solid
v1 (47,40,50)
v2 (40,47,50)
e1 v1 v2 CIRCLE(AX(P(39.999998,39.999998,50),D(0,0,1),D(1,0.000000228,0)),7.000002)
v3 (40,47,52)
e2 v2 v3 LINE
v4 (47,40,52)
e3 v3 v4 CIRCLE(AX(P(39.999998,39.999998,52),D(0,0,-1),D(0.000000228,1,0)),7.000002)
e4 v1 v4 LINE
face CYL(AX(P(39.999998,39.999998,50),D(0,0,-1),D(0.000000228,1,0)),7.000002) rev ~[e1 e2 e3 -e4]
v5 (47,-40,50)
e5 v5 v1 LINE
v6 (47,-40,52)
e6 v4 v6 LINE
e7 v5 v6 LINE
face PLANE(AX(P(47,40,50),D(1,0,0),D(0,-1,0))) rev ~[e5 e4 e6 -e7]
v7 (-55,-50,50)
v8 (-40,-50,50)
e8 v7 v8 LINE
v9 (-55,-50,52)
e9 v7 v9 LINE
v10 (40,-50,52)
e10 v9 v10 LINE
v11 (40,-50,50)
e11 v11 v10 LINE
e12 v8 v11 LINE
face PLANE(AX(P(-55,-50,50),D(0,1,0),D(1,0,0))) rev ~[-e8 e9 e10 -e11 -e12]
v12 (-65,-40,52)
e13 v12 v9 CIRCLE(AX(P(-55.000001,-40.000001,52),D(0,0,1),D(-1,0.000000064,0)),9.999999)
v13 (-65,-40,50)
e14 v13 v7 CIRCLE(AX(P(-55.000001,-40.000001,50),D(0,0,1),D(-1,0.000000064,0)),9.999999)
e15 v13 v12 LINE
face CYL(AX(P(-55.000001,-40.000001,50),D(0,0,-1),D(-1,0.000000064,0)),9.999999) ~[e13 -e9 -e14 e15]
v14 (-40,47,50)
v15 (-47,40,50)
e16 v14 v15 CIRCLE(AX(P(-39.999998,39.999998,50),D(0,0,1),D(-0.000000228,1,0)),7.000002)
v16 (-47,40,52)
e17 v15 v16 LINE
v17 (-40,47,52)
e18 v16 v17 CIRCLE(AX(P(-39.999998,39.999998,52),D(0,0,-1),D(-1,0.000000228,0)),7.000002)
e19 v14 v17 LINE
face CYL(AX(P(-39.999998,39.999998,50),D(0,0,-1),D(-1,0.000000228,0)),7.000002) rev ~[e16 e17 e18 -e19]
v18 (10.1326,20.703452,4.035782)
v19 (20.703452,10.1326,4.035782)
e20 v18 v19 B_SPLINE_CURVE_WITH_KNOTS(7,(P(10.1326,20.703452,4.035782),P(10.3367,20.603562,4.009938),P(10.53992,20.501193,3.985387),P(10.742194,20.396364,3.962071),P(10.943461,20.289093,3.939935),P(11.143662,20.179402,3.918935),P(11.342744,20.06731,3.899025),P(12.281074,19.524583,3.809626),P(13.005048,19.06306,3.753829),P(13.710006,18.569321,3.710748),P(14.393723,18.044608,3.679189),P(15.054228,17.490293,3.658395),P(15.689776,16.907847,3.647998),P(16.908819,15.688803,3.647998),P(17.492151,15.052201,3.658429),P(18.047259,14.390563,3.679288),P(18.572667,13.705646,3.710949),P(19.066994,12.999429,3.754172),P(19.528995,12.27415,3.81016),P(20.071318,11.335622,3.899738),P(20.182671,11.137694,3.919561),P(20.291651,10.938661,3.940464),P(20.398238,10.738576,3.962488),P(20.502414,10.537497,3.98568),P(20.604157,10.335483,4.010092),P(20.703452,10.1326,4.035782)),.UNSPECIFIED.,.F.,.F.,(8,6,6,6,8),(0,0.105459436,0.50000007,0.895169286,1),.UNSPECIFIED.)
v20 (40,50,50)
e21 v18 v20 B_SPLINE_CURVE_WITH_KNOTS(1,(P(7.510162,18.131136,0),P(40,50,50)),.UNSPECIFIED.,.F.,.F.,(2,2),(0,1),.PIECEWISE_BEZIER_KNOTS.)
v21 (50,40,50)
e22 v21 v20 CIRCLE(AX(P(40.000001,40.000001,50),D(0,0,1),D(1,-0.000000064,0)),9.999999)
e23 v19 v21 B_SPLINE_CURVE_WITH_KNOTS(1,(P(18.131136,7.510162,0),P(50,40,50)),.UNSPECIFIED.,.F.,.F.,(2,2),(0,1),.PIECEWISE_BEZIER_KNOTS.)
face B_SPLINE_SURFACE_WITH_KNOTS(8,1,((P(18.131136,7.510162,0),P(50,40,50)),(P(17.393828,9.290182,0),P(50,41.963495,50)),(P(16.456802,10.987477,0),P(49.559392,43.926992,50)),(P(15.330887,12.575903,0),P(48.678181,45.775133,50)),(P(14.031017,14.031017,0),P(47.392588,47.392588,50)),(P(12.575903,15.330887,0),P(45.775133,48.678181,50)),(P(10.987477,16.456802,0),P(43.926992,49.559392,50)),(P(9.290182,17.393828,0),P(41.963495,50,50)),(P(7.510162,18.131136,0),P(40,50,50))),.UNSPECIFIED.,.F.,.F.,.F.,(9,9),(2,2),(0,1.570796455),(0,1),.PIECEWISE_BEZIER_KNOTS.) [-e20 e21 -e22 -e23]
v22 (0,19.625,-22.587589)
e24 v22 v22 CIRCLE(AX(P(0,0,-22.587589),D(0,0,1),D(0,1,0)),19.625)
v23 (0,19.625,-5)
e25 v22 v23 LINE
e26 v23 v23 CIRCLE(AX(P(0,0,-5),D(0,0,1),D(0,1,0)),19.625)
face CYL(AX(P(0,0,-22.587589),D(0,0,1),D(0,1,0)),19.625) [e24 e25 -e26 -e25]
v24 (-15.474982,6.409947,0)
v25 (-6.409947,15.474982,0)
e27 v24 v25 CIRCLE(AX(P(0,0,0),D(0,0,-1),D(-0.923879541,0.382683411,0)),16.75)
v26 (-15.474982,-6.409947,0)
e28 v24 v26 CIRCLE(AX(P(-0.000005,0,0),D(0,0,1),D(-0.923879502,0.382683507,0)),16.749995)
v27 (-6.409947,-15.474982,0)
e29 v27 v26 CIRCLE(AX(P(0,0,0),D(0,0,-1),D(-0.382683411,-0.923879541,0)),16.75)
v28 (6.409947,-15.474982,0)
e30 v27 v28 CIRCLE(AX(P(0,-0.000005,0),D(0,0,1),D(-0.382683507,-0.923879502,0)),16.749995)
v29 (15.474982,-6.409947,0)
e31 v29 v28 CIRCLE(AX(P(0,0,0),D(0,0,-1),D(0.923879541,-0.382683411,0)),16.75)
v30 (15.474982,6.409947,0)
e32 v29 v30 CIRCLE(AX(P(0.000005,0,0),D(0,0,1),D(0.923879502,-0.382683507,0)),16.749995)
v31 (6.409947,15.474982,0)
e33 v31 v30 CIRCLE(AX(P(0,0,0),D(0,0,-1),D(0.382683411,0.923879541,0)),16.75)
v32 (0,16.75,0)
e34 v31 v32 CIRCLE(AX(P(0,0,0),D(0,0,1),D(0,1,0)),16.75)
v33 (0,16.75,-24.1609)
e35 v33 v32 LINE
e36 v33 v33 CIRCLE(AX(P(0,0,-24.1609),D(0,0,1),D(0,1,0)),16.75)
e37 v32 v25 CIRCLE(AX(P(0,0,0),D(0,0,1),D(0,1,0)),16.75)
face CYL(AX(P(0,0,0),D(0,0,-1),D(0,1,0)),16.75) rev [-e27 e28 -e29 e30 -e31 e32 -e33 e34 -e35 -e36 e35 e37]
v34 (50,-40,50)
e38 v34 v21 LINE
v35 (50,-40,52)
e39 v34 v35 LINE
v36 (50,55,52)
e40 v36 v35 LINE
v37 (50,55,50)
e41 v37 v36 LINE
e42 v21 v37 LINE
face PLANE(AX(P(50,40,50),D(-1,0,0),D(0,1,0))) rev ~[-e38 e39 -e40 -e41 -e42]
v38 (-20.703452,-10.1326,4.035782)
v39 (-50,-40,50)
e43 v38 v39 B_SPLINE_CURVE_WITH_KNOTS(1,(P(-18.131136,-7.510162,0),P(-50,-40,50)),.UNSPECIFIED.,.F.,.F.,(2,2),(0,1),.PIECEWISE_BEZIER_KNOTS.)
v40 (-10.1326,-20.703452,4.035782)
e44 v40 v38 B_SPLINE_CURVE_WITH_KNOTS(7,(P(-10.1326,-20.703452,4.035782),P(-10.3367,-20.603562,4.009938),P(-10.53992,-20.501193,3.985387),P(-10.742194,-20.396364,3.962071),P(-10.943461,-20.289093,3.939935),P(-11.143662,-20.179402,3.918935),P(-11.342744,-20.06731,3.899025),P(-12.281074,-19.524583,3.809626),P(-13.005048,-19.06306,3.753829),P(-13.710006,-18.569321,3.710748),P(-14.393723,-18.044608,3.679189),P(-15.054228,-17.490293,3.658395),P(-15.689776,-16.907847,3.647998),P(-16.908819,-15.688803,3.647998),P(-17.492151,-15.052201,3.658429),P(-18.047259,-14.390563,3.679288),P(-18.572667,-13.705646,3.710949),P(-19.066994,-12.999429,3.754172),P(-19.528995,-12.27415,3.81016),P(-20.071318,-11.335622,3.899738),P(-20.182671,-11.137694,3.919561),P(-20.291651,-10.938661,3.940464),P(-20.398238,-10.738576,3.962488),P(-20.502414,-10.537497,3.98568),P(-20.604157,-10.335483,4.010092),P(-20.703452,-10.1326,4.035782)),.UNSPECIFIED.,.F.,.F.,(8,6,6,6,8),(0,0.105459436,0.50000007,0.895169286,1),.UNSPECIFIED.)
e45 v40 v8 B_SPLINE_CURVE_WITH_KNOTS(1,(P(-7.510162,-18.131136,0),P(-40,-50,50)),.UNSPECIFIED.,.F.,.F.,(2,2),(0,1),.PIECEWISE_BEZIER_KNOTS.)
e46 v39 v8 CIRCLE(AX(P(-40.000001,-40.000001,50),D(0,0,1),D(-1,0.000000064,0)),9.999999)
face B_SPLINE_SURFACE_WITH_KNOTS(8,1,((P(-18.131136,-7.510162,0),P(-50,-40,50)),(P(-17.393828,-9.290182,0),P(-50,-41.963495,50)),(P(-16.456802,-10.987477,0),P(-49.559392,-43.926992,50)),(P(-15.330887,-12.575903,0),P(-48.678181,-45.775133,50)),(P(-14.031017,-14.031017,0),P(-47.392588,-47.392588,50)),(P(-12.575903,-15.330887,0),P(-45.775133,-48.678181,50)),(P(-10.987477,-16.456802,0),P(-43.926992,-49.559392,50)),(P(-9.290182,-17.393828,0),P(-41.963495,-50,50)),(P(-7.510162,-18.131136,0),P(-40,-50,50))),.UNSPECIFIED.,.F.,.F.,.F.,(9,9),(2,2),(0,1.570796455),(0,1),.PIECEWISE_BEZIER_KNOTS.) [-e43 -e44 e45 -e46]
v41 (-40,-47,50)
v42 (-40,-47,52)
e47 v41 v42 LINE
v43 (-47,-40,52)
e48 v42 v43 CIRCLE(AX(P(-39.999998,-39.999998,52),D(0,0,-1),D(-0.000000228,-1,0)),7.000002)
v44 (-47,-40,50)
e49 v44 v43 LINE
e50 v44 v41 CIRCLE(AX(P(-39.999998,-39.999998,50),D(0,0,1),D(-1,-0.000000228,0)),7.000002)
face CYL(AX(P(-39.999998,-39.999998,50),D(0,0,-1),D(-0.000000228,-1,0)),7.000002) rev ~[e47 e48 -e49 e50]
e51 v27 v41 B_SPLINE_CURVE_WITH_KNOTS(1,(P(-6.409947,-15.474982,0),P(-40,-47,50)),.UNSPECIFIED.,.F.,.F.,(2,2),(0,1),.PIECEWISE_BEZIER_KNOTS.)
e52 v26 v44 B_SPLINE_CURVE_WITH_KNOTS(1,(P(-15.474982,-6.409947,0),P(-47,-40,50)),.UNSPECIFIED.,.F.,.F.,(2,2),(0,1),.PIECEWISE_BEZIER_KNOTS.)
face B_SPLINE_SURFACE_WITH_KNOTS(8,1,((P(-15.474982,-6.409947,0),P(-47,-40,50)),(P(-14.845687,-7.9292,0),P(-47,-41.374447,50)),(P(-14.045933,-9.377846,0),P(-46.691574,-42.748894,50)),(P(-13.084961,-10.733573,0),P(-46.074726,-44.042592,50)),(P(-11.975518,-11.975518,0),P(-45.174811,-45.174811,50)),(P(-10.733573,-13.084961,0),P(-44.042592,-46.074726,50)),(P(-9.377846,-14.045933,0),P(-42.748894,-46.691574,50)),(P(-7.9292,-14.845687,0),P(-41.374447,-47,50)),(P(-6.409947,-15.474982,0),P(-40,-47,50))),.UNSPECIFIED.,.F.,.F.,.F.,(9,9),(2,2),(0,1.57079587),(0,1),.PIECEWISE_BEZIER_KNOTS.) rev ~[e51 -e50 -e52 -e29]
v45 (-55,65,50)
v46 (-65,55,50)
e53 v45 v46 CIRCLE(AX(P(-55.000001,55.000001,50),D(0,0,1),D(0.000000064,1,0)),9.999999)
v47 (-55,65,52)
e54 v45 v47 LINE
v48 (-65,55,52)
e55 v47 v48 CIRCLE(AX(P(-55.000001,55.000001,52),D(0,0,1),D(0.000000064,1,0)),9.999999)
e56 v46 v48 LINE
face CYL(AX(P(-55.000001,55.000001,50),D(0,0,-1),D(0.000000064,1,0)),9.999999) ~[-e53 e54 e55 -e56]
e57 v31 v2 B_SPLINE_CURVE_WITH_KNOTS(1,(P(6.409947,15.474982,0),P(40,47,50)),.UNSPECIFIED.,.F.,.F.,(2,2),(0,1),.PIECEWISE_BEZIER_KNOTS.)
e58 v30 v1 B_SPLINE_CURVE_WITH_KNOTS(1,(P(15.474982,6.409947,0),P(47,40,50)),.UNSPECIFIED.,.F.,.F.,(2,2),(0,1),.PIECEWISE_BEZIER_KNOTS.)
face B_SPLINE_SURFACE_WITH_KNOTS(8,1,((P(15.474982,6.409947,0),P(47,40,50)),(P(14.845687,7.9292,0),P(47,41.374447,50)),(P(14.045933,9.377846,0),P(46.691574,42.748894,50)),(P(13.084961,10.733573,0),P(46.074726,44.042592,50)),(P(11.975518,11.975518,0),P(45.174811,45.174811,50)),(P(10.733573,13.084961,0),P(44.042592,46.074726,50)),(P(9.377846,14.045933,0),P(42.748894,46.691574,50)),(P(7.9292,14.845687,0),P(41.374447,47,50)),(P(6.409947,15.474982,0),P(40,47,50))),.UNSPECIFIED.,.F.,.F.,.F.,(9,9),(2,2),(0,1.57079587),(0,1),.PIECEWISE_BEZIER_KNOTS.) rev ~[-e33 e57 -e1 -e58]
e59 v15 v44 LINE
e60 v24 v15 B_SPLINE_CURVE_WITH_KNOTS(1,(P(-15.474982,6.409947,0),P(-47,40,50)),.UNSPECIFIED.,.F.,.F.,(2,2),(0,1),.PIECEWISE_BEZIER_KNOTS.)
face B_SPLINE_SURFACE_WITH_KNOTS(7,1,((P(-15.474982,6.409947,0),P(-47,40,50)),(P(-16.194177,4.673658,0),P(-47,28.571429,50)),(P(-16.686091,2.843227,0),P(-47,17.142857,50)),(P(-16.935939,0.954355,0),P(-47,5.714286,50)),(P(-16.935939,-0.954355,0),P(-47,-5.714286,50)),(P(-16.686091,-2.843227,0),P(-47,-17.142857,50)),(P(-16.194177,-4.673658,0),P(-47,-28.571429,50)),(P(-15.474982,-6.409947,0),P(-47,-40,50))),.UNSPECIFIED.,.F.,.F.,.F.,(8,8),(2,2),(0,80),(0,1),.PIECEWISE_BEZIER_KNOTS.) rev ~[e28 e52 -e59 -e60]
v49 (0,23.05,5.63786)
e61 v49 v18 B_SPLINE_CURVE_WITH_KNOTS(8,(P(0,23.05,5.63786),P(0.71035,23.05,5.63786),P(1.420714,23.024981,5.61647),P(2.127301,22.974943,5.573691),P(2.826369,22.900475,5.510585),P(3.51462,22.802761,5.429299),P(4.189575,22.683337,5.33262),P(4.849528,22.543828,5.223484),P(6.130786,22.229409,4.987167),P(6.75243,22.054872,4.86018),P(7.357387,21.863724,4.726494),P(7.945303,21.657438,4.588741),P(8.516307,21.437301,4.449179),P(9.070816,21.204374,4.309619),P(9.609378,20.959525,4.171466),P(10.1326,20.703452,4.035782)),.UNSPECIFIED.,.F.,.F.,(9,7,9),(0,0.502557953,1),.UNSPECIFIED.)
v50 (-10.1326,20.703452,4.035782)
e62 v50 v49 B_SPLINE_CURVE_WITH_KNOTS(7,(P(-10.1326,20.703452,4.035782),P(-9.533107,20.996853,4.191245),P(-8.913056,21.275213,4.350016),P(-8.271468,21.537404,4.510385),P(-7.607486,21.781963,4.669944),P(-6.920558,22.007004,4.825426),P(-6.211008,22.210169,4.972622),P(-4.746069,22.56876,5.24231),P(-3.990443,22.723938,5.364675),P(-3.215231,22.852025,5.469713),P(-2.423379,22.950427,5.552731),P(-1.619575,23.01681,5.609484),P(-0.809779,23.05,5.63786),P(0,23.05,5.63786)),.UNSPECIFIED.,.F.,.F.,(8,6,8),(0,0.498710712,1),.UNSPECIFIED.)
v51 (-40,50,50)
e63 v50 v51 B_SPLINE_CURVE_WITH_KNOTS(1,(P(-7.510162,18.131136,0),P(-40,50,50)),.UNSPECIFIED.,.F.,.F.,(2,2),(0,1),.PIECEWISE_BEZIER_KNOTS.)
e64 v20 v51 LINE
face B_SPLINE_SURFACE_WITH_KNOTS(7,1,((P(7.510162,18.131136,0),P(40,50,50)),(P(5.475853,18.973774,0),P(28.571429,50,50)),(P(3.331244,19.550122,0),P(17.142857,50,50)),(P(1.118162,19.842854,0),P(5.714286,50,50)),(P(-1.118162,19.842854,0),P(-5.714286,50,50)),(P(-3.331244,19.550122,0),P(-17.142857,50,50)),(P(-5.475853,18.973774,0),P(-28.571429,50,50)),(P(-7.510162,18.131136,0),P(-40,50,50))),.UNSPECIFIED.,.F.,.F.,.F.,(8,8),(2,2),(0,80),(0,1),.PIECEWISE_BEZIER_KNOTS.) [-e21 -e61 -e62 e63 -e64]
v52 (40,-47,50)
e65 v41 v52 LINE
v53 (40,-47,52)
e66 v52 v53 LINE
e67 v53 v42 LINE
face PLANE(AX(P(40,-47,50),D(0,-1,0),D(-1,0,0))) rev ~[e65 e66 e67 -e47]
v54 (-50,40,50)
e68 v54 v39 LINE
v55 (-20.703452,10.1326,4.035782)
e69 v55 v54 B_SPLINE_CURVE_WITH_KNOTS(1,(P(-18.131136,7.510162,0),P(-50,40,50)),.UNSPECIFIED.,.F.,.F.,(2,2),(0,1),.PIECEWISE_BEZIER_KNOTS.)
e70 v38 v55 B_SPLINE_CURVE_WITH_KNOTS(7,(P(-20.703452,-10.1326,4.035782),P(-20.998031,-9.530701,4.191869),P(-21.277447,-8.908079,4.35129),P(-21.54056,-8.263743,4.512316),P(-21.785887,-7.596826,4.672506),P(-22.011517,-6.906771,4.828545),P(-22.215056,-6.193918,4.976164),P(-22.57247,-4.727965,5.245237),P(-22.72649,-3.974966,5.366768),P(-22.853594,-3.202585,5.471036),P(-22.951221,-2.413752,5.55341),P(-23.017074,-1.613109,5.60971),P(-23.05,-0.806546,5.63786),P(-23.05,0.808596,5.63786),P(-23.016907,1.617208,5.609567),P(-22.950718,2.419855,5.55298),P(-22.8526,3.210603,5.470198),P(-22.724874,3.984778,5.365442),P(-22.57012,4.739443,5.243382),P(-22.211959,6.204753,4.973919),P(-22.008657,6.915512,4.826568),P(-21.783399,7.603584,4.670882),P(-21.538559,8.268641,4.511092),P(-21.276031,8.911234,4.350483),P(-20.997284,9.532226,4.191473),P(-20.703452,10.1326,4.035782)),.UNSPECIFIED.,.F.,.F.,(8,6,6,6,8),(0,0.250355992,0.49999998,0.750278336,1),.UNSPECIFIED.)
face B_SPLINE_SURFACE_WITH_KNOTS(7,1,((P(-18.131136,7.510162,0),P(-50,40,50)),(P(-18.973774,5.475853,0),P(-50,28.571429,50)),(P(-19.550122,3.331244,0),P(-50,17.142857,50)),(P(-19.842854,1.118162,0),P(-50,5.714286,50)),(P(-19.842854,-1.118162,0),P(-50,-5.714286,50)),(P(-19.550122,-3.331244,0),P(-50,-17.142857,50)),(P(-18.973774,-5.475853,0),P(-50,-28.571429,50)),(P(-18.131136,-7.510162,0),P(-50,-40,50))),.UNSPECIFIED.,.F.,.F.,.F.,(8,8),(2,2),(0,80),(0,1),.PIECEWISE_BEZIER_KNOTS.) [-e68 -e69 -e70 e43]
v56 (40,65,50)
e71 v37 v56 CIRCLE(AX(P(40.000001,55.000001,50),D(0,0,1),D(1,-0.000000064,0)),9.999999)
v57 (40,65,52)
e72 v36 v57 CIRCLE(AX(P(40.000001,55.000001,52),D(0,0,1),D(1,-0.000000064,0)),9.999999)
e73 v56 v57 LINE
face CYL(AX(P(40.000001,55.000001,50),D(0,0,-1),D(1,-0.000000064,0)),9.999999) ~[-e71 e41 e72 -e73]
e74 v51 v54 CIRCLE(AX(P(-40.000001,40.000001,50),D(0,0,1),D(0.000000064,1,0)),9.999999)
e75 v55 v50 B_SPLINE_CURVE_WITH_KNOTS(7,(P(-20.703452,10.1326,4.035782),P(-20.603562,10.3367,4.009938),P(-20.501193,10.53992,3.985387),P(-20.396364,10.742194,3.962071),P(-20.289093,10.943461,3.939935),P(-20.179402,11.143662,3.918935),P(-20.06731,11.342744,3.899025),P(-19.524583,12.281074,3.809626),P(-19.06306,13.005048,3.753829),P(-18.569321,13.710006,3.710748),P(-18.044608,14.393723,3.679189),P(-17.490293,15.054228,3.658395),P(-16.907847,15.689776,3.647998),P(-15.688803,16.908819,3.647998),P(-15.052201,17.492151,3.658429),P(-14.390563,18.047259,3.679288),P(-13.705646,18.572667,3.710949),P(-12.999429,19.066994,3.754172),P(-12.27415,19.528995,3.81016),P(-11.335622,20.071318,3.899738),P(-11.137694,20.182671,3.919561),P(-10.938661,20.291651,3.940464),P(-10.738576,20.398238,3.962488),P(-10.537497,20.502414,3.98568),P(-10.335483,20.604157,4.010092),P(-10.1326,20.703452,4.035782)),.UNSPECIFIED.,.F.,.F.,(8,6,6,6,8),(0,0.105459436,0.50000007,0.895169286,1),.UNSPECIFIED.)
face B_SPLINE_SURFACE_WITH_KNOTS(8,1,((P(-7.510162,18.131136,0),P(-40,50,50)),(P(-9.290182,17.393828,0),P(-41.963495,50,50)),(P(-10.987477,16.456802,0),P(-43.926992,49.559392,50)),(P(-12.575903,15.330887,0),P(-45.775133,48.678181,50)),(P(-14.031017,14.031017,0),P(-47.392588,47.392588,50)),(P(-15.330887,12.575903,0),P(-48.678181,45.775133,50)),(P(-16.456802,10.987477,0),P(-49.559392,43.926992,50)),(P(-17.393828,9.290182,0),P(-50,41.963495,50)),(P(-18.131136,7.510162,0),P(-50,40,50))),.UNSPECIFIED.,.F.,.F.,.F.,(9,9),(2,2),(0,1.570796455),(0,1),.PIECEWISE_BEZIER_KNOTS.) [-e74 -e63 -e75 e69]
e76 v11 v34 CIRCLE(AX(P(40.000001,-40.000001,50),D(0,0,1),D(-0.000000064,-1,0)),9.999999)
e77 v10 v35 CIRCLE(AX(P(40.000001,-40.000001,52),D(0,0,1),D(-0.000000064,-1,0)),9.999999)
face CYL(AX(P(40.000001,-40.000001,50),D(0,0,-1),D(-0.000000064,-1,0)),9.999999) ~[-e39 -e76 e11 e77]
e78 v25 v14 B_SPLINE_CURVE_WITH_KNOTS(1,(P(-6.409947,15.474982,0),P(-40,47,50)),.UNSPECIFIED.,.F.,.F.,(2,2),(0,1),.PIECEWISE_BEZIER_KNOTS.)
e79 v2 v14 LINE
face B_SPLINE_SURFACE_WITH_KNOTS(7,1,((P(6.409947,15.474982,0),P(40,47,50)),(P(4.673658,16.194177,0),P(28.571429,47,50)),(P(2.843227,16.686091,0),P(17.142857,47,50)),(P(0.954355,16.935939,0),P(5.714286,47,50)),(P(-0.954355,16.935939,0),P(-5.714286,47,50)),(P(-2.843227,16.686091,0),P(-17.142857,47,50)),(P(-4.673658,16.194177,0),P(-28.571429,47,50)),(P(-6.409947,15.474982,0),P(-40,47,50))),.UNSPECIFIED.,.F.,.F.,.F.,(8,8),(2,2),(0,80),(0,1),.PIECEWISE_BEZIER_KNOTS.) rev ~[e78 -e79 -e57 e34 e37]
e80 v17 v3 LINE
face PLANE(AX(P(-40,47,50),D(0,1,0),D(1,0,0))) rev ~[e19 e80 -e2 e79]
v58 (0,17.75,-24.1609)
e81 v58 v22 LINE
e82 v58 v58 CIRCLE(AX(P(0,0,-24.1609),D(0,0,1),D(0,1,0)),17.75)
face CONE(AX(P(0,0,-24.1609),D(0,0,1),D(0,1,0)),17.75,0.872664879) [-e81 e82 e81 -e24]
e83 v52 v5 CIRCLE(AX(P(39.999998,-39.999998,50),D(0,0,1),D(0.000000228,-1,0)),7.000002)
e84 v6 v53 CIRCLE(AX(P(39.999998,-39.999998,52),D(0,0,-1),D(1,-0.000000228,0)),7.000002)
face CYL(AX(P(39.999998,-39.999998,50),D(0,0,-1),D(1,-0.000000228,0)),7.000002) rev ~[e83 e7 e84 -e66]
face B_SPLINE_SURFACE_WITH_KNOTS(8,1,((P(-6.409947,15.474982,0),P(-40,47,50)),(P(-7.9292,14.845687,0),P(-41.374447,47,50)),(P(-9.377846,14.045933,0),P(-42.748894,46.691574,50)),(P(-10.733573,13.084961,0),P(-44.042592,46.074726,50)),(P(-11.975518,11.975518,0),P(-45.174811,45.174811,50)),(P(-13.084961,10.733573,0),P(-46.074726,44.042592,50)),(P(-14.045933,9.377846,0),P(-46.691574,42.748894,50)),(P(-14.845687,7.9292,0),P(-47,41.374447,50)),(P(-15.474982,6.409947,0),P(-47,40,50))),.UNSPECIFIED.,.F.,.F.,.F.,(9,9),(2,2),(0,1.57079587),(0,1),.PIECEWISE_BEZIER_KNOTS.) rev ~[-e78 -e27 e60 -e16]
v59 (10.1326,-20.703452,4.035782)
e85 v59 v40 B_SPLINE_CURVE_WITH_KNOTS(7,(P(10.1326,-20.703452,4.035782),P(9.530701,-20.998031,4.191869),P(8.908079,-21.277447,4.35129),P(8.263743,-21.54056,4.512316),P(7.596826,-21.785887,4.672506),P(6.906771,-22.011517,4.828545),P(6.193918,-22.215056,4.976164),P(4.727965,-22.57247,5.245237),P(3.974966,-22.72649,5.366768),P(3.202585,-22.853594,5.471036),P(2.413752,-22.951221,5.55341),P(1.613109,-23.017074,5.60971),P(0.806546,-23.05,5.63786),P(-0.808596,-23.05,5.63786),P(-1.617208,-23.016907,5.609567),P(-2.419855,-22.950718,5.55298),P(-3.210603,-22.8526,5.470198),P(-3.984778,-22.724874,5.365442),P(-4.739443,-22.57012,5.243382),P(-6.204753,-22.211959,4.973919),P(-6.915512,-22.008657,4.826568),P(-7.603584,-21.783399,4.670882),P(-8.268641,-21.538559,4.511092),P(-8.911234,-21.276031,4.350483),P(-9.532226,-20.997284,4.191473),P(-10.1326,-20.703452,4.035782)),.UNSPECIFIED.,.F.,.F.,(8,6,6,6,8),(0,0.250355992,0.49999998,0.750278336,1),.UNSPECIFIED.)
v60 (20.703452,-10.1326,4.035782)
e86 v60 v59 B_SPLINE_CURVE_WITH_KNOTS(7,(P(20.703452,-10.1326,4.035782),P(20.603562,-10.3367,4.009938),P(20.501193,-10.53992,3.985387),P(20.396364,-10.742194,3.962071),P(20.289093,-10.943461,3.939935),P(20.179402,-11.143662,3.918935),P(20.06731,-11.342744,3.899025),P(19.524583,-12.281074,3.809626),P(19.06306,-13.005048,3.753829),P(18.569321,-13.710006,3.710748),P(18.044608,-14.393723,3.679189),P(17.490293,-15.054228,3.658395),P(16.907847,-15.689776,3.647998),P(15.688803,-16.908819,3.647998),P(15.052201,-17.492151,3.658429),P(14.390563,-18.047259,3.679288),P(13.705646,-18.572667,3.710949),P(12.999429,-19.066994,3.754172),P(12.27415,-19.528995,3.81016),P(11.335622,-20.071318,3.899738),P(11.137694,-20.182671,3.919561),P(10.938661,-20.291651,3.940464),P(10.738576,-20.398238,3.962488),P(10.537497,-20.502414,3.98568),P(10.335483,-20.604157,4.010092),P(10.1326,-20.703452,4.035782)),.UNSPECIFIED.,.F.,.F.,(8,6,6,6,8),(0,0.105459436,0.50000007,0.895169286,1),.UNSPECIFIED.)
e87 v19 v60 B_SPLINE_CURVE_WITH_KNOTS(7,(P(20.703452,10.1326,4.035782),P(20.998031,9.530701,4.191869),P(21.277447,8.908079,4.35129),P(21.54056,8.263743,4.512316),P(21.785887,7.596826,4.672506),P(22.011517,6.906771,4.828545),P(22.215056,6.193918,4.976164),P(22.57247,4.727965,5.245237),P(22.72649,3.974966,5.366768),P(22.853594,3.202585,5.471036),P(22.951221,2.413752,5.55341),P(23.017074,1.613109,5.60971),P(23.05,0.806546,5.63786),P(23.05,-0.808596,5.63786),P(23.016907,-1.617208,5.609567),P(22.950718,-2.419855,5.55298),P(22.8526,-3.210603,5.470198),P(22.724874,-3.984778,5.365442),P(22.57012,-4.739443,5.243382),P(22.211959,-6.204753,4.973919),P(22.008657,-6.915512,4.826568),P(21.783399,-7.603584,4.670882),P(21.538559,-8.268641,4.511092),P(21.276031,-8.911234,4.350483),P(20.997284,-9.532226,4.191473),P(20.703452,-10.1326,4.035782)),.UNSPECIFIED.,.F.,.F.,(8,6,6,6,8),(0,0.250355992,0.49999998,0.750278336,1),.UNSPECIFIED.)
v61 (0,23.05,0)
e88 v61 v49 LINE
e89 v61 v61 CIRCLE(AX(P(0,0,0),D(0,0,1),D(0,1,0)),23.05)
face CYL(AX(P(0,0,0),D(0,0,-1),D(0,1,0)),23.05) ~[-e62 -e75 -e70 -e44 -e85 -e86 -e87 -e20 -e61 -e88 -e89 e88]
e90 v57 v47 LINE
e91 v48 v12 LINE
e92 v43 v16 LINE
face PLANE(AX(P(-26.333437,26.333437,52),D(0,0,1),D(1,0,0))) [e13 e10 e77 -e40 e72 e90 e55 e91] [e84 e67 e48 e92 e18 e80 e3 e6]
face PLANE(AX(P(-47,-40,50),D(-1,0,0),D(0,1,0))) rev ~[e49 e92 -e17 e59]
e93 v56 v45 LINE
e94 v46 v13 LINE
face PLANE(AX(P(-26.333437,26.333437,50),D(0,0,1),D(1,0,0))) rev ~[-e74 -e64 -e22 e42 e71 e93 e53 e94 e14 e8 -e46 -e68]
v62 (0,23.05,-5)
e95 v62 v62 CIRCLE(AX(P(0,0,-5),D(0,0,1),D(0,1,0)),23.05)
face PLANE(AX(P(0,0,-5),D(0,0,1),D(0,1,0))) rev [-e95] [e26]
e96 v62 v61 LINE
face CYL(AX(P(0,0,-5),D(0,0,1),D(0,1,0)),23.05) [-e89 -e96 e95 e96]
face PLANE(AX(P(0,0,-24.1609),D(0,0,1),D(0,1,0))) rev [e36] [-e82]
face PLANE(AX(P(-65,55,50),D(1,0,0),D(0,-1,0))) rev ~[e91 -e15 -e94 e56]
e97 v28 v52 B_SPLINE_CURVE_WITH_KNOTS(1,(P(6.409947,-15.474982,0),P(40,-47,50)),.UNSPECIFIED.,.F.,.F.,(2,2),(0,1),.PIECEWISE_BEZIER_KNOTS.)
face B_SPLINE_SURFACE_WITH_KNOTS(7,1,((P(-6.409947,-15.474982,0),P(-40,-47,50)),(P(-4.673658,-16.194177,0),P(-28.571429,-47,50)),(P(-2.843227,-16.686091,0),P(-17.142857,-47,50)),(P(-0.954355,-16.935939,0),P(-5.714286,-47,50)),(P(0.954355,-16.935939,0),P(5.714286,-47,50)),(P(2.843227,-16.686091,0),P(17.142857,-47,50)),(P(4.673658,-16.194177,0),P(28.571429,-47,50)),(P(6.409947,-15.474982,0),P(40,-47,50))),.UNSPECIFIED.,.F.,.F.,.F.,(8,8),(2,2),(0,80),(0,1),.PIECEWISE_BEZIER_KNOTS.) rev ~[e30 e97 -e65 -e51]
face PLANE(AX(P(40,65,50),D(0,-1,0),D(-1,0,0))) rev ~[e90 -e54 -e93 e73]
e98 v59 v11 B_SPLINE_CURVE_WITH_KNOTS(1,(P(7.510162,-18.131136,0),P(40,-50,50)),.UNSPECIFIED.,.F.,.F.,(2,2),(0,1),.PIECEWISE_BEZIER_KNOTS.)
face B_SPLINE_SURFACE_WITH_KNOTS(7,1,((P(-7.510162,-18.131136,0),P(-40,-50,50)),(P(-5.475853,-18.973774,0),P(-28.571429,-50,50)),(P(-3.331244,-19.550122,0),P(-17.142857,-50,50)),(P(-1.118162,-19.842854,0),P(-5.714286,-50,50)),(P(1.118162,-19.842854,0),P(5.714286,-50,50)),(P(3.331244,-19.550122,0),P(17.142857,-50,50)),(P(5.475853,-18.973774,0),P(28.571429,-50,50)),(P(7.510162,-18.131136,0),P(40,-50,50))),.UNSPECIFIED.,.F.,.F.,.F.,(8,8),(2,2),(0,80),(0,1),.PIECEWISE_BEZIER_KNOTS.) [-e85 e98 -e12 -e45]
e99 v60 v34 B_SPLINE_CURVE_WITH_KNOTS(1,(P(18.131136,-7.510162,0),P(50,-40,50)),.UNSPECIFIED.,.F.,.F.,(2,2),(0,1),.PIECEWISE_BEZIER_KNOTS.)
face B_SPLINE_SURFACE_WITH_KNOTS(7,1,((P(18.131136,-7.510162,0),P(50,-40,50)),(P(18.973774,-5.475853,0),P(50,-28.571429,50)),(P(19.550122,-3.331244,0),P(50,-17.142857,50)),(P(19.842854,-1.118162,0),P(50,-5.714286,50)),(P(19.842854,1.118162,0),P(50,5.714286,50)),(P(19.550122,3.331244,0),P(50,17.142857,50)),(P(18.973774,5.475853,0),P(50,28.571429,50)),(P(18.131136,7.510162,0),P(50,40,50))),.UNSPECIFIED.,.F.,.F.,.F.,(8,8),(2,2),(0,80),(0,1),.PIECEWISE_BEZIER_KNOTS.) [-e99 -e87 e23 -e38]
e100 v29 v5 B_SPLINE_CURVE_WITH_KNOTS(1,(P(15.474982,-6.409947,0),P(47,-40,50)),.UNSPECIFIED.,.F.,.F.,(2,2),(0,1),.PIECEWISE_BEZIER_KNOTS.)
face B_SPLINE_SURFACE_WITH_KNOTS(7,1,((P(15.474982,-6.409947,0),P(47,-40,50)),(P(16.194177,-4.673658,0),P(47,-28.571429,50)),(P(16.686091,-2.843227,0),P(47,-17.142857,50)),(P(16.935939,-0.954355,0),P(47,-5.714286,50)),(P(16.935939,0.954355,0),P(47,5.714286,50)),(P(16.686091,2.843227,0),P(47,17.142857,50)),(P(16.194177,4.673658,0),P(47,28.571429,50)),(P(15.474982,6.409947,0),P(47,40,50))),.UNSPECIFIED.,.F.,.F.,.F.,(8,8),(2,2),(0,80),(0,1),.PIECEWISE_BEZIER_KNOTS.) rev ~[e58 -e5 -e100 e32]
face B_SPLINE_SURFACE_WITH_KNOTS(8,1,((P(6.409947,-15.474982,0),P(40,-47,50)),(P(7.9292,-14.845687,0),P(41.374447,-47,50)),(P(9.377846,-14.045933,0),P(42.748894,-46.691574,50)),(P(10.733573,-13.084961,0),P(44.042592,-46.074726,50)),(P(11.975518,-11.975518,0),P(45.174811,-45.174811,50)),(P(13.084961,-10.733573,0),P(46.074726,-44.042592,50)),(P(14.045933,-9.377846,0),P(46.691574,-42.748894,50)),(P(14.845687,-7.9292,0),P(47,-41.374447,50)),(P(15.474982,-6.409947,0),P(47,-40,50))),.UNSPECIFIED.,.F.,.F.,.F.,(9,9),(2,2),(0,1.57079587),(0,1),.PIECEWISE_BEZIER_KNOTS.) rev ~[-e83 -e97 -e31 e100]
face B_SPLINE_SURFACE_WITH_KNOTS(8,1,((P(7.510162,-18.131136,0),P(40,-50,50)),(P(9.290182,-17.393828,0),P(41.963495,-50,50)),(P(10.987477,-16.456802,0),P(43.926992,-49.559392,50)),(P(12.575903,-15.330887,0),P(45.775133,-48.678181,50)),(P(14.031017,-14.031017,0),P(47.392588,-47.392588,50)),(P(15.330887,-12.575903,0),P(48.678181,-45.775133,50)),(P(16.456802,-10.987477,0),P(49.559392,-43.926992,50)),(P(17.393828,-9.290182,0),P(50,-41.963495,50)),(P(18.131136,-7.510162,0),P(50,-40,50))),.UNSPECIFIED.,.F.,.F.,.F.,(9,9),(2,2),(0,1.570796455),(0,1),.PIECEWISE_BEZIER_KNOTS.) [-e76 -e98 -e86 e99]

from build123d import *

# Parameters (mm, degrees)
REVOLUTION004_FACE6_R = 23.05
PAD006_DEPTH          = 10
PAD007_DEPTH          = 2
PAD008_DEPTH          = 2


with BuildPart() as part:
    # Sketch016 → Revolution003 (revolve)
    with BuildSketch(Plane.YZ):
        Polygon((19.625, -22.587589), (19.625, 0), (16.75, 0), (16.75, -24.1609), (17.75, -24.1609), align=None)
    revolve(axis=Axis((0, 0, 0), (0, 0, 1)))

    # Export → Loft section 0
    with BuildSketch(Plane.XY):
        with BuildLine():
            ThreePointArc((7.510162, 18.131136), (0, 19.625), (-7.510162, 18.131136))
            ThreePointArc((-7.510162, 18.131136), (-13.876971, 13.876971), (-18.131136, 7.510162))
            ThreePointArc((-18.131136, 7.510162), (-19.625, 0), (-18.131136, -7.510162))
            ThreePointArc((-18.131136, -7.510162), (-13.876971, -13.876971), (-7.510162, -18.131136))
            ThreePointArc((-7.510162, -18.131136), (0, -19.625), (7.510162, -18.131136))
            ThreePointArc((7.510162, -18.131136), (13.876971, -13.876971), (18.131136, -7.510162))
            ThreePointArc((18.131136, -7.510162), (19.625, 0), (18.131136, 7.510162))
            ThreePointArc((18.131136, 7.510162), (13.876971, 13.876971), (7.510162, 18.131136))
        make_face()
    # Export002 → Loft section 1
    with BuildSketch(Plane.XY.offset(50)):
        with BuildLine():
            Line((-50, 40), (-50, -40))
            ThreePointArc((-50, -40), (-47.071068, -47.071068), (-40, -50))
            Line((-40, -50), (40, -50))
            ThreePointArc((40, -50), (47.071068, -47.071068), (50, -40))
            Line((50, -40), (50, 40))
            ThreePointArc((50, 40), (47.071068, 47.071068), (40, 50))
            Line((40, 50), (-40, 50))
            ThreePointArc((-40, 50), (-47.071068, 47.071068), (-50, 40))
        make_face()
    loft()

    # Sketch020 → Revolution004 (revolve)
    with BuildSketch(Plane.YZ):
        Polygon((23.05, 0), (16.75, 0), (16.75, -5), (19.625, -5), (23.05, -5), align=None)
    revolve(axis=Axis((0, 0, 0), (0, 0, 1)))

    # Revolution004 Face6 → Pad006 (new)
    with BuildSketch(Plane(origin=(0, 0, 0), x_dir=(0, 1, 0), z_dir=(0, 0, 1))):
        Circle(REVOLUTION004_FACE6_R)
        with BuildLine():
            ThreePointArc((19.625, 0), (19.247911, -3.828648), (18.131136, -7.510162))
            ThreePointArc((18.131136, -7.510162), (13.876971, -13.876971), (7.510162, -18.131136))
            ThreePointArc((7.510162, -18.131136), (0, -19.625), (-7.510162, -18.131136))
            ThreePointArc((-7.510162, -18.131136), (-13.876971, -13.876971), (-18.131136, -7.510162))
            ThreePointArc((-18.131136, -7.510162), (-19.625, 0), (-18.131136, 7.510162))
            ThreePointArc((-18.131136, 7.510162), (-13.876971, 13.876971), (-7.510162, 18.131136))
            ThreePointArc((-7.510162, 18.131136), (0, 19.625), (7.510162, 18.131136))
            ThreePointArc((7.510162, 18.131136), (13.876971, 13.876971), (18.131136, 7.510162))
            ThreePointArc((18.131136, 7.510162), (19.247911, 3.828648), (19.625, 0))
        make_face(mode=Mode.SUBTRACT)
    extrude(amount=PAD006_DEPTH)

    # Export003 → Loft001 section 0
    with BuildSketch(Plane.XY):
        with BuildLine():
            ThreePointArc((6.409947, 15.474982), (0, 16.75), (-6.409947, 15.474982))
            ThreePointArc((-6.409947, 15.474982), (-11.844039, 11.844039), (-15.474982, 6.409947))
            ThreePointArc((-15.474982, 6.409947), (-16.75, 0), (-15.474982, -6.409947))
            ThreePointArc((-15.474982, -6.409947), (-11.844039, -11.844039), (-6.409947, -15.474982))
            ThreePointArc((-6.409947, -15.474982), (0, -16.75), (6.409947, -15.474982))
            ThreePointArc((6.409947, -15.474982), (11.844039, -11.844039), (15.474982, -6.409947))
            ThreePointArc((15.474982, -6.409947), (16.75, 0), (15.474982, 6.409947))
            ThreePointArc((15.474982, 6.409947), (11.844039, 11.844039), (6.409947, 15.474982))
        make_face()
    # Export004 → Loft001 section 1
    with BuildSketch(Plane.XY.offset(50)):
        with BuildLine():
            Line((-47, 40), (-47, -40))
            ThreePointArc((-47, -40), (-44.949747, -44.949747), (-40, -47))
            Line((-40, -47), (40, -47))
            ThreePointArc((40, -47), (44.949747, -44.949747), (47, -40))
            Line((47, -40), (47, 40))
            ThreePointArc((47, 40), (44.949747, 44.949747), (40, 47))
            Line((40, 47), (-40, 47))
            ThreePointArc((-40, 47), (-44.949747, 44.949747), (-47, 40))
        make_face()
    loft(mode=Mode.SUBTRACT)

    # Loft001 Face13 → Pad007 (add)
    with BuildSketch(Plane(origin=(0, 0, 50), x_dir=(0, 1, 0), z_dir=(0, 0, 1))):
        with BuildLine():
            Line((40, 50), (-40, 50))
            ThreePointArc((-40, 50), (-47.071068, 47.071068), (-50, 40))
            Line((-50, 40), (-50, -40))
            ThreePointArc((-50, -40), (-47.071068, -47.071068), (-40, -50))
            Line((-40, -50), (40, -50))
            ThreePointArc((40, -50), (47.071068, -47.071068), (50, -40))
            Line((50, -40), (50, 40))
            ThreePointArc((50, 40), (47.071068, 47.071068), (40, 50))
        make_face()
        with BuildLine():
            Line((47, 40), (47, -40))
            ThreePointArc((47, -40), (44.949747, -44.949747), (40, -47))
            Line((40, -47), (-40, -47))
            ThreePointArc((-40, -47), (-44.949747, -44.949747), (-47, -40))
            Line((-47, -40), (-47, 40))
            ThreePointArc((-47, 40), (-44.949747, 44.949747), (-40, 47))
            Line((-40, 47), (40, 47))
            ThreePointArc((40, 47), (44.949747, 44.949747), (47, 40))
        make_face(mode=Mode.SUBTRACT)
    extrude(amount=PAD007_DEPTH)

    # Sketch019 (on Sketch) → Pad008 (join)
    with BuildSketch(Plane.XY.offset(50)):
        with BuildLine():
            ThreePointArc((50, 55), (47.071068, 62.071068), (40, 65))
            Line((40, 65), (-55, 65))
            ThreePointArc((-55, 65), (-62.071068, 62.071068), (-65, 55))
            Line((-65, 55), (-65, -40))
            ThreePointArc((-65, -40), (-62.071068, -47.071068), (-55, -50))
            Line((-55, -50), (-40, -50))
            Line((-40, -50), (-40, -47))
            ThreePointArc((-40, -47), (-44.949747, -44.949747), (-47, -40))
            Line((-47, -40), (-47, 40))
            ThreePointArc((-47, 40), (-44.949747, 44.949747), (-40, 47))
            Line((-40, 47), (40, 47))
            ThreePointArc((40, 47), (44.949747, 44.949747), (47, 40))
            Line((47, 40), (50, 40))
            Line((50, 40), (50, 55))
        make_face()
    extrude(amount=PAD008_DEPTH)


solid = part.part
